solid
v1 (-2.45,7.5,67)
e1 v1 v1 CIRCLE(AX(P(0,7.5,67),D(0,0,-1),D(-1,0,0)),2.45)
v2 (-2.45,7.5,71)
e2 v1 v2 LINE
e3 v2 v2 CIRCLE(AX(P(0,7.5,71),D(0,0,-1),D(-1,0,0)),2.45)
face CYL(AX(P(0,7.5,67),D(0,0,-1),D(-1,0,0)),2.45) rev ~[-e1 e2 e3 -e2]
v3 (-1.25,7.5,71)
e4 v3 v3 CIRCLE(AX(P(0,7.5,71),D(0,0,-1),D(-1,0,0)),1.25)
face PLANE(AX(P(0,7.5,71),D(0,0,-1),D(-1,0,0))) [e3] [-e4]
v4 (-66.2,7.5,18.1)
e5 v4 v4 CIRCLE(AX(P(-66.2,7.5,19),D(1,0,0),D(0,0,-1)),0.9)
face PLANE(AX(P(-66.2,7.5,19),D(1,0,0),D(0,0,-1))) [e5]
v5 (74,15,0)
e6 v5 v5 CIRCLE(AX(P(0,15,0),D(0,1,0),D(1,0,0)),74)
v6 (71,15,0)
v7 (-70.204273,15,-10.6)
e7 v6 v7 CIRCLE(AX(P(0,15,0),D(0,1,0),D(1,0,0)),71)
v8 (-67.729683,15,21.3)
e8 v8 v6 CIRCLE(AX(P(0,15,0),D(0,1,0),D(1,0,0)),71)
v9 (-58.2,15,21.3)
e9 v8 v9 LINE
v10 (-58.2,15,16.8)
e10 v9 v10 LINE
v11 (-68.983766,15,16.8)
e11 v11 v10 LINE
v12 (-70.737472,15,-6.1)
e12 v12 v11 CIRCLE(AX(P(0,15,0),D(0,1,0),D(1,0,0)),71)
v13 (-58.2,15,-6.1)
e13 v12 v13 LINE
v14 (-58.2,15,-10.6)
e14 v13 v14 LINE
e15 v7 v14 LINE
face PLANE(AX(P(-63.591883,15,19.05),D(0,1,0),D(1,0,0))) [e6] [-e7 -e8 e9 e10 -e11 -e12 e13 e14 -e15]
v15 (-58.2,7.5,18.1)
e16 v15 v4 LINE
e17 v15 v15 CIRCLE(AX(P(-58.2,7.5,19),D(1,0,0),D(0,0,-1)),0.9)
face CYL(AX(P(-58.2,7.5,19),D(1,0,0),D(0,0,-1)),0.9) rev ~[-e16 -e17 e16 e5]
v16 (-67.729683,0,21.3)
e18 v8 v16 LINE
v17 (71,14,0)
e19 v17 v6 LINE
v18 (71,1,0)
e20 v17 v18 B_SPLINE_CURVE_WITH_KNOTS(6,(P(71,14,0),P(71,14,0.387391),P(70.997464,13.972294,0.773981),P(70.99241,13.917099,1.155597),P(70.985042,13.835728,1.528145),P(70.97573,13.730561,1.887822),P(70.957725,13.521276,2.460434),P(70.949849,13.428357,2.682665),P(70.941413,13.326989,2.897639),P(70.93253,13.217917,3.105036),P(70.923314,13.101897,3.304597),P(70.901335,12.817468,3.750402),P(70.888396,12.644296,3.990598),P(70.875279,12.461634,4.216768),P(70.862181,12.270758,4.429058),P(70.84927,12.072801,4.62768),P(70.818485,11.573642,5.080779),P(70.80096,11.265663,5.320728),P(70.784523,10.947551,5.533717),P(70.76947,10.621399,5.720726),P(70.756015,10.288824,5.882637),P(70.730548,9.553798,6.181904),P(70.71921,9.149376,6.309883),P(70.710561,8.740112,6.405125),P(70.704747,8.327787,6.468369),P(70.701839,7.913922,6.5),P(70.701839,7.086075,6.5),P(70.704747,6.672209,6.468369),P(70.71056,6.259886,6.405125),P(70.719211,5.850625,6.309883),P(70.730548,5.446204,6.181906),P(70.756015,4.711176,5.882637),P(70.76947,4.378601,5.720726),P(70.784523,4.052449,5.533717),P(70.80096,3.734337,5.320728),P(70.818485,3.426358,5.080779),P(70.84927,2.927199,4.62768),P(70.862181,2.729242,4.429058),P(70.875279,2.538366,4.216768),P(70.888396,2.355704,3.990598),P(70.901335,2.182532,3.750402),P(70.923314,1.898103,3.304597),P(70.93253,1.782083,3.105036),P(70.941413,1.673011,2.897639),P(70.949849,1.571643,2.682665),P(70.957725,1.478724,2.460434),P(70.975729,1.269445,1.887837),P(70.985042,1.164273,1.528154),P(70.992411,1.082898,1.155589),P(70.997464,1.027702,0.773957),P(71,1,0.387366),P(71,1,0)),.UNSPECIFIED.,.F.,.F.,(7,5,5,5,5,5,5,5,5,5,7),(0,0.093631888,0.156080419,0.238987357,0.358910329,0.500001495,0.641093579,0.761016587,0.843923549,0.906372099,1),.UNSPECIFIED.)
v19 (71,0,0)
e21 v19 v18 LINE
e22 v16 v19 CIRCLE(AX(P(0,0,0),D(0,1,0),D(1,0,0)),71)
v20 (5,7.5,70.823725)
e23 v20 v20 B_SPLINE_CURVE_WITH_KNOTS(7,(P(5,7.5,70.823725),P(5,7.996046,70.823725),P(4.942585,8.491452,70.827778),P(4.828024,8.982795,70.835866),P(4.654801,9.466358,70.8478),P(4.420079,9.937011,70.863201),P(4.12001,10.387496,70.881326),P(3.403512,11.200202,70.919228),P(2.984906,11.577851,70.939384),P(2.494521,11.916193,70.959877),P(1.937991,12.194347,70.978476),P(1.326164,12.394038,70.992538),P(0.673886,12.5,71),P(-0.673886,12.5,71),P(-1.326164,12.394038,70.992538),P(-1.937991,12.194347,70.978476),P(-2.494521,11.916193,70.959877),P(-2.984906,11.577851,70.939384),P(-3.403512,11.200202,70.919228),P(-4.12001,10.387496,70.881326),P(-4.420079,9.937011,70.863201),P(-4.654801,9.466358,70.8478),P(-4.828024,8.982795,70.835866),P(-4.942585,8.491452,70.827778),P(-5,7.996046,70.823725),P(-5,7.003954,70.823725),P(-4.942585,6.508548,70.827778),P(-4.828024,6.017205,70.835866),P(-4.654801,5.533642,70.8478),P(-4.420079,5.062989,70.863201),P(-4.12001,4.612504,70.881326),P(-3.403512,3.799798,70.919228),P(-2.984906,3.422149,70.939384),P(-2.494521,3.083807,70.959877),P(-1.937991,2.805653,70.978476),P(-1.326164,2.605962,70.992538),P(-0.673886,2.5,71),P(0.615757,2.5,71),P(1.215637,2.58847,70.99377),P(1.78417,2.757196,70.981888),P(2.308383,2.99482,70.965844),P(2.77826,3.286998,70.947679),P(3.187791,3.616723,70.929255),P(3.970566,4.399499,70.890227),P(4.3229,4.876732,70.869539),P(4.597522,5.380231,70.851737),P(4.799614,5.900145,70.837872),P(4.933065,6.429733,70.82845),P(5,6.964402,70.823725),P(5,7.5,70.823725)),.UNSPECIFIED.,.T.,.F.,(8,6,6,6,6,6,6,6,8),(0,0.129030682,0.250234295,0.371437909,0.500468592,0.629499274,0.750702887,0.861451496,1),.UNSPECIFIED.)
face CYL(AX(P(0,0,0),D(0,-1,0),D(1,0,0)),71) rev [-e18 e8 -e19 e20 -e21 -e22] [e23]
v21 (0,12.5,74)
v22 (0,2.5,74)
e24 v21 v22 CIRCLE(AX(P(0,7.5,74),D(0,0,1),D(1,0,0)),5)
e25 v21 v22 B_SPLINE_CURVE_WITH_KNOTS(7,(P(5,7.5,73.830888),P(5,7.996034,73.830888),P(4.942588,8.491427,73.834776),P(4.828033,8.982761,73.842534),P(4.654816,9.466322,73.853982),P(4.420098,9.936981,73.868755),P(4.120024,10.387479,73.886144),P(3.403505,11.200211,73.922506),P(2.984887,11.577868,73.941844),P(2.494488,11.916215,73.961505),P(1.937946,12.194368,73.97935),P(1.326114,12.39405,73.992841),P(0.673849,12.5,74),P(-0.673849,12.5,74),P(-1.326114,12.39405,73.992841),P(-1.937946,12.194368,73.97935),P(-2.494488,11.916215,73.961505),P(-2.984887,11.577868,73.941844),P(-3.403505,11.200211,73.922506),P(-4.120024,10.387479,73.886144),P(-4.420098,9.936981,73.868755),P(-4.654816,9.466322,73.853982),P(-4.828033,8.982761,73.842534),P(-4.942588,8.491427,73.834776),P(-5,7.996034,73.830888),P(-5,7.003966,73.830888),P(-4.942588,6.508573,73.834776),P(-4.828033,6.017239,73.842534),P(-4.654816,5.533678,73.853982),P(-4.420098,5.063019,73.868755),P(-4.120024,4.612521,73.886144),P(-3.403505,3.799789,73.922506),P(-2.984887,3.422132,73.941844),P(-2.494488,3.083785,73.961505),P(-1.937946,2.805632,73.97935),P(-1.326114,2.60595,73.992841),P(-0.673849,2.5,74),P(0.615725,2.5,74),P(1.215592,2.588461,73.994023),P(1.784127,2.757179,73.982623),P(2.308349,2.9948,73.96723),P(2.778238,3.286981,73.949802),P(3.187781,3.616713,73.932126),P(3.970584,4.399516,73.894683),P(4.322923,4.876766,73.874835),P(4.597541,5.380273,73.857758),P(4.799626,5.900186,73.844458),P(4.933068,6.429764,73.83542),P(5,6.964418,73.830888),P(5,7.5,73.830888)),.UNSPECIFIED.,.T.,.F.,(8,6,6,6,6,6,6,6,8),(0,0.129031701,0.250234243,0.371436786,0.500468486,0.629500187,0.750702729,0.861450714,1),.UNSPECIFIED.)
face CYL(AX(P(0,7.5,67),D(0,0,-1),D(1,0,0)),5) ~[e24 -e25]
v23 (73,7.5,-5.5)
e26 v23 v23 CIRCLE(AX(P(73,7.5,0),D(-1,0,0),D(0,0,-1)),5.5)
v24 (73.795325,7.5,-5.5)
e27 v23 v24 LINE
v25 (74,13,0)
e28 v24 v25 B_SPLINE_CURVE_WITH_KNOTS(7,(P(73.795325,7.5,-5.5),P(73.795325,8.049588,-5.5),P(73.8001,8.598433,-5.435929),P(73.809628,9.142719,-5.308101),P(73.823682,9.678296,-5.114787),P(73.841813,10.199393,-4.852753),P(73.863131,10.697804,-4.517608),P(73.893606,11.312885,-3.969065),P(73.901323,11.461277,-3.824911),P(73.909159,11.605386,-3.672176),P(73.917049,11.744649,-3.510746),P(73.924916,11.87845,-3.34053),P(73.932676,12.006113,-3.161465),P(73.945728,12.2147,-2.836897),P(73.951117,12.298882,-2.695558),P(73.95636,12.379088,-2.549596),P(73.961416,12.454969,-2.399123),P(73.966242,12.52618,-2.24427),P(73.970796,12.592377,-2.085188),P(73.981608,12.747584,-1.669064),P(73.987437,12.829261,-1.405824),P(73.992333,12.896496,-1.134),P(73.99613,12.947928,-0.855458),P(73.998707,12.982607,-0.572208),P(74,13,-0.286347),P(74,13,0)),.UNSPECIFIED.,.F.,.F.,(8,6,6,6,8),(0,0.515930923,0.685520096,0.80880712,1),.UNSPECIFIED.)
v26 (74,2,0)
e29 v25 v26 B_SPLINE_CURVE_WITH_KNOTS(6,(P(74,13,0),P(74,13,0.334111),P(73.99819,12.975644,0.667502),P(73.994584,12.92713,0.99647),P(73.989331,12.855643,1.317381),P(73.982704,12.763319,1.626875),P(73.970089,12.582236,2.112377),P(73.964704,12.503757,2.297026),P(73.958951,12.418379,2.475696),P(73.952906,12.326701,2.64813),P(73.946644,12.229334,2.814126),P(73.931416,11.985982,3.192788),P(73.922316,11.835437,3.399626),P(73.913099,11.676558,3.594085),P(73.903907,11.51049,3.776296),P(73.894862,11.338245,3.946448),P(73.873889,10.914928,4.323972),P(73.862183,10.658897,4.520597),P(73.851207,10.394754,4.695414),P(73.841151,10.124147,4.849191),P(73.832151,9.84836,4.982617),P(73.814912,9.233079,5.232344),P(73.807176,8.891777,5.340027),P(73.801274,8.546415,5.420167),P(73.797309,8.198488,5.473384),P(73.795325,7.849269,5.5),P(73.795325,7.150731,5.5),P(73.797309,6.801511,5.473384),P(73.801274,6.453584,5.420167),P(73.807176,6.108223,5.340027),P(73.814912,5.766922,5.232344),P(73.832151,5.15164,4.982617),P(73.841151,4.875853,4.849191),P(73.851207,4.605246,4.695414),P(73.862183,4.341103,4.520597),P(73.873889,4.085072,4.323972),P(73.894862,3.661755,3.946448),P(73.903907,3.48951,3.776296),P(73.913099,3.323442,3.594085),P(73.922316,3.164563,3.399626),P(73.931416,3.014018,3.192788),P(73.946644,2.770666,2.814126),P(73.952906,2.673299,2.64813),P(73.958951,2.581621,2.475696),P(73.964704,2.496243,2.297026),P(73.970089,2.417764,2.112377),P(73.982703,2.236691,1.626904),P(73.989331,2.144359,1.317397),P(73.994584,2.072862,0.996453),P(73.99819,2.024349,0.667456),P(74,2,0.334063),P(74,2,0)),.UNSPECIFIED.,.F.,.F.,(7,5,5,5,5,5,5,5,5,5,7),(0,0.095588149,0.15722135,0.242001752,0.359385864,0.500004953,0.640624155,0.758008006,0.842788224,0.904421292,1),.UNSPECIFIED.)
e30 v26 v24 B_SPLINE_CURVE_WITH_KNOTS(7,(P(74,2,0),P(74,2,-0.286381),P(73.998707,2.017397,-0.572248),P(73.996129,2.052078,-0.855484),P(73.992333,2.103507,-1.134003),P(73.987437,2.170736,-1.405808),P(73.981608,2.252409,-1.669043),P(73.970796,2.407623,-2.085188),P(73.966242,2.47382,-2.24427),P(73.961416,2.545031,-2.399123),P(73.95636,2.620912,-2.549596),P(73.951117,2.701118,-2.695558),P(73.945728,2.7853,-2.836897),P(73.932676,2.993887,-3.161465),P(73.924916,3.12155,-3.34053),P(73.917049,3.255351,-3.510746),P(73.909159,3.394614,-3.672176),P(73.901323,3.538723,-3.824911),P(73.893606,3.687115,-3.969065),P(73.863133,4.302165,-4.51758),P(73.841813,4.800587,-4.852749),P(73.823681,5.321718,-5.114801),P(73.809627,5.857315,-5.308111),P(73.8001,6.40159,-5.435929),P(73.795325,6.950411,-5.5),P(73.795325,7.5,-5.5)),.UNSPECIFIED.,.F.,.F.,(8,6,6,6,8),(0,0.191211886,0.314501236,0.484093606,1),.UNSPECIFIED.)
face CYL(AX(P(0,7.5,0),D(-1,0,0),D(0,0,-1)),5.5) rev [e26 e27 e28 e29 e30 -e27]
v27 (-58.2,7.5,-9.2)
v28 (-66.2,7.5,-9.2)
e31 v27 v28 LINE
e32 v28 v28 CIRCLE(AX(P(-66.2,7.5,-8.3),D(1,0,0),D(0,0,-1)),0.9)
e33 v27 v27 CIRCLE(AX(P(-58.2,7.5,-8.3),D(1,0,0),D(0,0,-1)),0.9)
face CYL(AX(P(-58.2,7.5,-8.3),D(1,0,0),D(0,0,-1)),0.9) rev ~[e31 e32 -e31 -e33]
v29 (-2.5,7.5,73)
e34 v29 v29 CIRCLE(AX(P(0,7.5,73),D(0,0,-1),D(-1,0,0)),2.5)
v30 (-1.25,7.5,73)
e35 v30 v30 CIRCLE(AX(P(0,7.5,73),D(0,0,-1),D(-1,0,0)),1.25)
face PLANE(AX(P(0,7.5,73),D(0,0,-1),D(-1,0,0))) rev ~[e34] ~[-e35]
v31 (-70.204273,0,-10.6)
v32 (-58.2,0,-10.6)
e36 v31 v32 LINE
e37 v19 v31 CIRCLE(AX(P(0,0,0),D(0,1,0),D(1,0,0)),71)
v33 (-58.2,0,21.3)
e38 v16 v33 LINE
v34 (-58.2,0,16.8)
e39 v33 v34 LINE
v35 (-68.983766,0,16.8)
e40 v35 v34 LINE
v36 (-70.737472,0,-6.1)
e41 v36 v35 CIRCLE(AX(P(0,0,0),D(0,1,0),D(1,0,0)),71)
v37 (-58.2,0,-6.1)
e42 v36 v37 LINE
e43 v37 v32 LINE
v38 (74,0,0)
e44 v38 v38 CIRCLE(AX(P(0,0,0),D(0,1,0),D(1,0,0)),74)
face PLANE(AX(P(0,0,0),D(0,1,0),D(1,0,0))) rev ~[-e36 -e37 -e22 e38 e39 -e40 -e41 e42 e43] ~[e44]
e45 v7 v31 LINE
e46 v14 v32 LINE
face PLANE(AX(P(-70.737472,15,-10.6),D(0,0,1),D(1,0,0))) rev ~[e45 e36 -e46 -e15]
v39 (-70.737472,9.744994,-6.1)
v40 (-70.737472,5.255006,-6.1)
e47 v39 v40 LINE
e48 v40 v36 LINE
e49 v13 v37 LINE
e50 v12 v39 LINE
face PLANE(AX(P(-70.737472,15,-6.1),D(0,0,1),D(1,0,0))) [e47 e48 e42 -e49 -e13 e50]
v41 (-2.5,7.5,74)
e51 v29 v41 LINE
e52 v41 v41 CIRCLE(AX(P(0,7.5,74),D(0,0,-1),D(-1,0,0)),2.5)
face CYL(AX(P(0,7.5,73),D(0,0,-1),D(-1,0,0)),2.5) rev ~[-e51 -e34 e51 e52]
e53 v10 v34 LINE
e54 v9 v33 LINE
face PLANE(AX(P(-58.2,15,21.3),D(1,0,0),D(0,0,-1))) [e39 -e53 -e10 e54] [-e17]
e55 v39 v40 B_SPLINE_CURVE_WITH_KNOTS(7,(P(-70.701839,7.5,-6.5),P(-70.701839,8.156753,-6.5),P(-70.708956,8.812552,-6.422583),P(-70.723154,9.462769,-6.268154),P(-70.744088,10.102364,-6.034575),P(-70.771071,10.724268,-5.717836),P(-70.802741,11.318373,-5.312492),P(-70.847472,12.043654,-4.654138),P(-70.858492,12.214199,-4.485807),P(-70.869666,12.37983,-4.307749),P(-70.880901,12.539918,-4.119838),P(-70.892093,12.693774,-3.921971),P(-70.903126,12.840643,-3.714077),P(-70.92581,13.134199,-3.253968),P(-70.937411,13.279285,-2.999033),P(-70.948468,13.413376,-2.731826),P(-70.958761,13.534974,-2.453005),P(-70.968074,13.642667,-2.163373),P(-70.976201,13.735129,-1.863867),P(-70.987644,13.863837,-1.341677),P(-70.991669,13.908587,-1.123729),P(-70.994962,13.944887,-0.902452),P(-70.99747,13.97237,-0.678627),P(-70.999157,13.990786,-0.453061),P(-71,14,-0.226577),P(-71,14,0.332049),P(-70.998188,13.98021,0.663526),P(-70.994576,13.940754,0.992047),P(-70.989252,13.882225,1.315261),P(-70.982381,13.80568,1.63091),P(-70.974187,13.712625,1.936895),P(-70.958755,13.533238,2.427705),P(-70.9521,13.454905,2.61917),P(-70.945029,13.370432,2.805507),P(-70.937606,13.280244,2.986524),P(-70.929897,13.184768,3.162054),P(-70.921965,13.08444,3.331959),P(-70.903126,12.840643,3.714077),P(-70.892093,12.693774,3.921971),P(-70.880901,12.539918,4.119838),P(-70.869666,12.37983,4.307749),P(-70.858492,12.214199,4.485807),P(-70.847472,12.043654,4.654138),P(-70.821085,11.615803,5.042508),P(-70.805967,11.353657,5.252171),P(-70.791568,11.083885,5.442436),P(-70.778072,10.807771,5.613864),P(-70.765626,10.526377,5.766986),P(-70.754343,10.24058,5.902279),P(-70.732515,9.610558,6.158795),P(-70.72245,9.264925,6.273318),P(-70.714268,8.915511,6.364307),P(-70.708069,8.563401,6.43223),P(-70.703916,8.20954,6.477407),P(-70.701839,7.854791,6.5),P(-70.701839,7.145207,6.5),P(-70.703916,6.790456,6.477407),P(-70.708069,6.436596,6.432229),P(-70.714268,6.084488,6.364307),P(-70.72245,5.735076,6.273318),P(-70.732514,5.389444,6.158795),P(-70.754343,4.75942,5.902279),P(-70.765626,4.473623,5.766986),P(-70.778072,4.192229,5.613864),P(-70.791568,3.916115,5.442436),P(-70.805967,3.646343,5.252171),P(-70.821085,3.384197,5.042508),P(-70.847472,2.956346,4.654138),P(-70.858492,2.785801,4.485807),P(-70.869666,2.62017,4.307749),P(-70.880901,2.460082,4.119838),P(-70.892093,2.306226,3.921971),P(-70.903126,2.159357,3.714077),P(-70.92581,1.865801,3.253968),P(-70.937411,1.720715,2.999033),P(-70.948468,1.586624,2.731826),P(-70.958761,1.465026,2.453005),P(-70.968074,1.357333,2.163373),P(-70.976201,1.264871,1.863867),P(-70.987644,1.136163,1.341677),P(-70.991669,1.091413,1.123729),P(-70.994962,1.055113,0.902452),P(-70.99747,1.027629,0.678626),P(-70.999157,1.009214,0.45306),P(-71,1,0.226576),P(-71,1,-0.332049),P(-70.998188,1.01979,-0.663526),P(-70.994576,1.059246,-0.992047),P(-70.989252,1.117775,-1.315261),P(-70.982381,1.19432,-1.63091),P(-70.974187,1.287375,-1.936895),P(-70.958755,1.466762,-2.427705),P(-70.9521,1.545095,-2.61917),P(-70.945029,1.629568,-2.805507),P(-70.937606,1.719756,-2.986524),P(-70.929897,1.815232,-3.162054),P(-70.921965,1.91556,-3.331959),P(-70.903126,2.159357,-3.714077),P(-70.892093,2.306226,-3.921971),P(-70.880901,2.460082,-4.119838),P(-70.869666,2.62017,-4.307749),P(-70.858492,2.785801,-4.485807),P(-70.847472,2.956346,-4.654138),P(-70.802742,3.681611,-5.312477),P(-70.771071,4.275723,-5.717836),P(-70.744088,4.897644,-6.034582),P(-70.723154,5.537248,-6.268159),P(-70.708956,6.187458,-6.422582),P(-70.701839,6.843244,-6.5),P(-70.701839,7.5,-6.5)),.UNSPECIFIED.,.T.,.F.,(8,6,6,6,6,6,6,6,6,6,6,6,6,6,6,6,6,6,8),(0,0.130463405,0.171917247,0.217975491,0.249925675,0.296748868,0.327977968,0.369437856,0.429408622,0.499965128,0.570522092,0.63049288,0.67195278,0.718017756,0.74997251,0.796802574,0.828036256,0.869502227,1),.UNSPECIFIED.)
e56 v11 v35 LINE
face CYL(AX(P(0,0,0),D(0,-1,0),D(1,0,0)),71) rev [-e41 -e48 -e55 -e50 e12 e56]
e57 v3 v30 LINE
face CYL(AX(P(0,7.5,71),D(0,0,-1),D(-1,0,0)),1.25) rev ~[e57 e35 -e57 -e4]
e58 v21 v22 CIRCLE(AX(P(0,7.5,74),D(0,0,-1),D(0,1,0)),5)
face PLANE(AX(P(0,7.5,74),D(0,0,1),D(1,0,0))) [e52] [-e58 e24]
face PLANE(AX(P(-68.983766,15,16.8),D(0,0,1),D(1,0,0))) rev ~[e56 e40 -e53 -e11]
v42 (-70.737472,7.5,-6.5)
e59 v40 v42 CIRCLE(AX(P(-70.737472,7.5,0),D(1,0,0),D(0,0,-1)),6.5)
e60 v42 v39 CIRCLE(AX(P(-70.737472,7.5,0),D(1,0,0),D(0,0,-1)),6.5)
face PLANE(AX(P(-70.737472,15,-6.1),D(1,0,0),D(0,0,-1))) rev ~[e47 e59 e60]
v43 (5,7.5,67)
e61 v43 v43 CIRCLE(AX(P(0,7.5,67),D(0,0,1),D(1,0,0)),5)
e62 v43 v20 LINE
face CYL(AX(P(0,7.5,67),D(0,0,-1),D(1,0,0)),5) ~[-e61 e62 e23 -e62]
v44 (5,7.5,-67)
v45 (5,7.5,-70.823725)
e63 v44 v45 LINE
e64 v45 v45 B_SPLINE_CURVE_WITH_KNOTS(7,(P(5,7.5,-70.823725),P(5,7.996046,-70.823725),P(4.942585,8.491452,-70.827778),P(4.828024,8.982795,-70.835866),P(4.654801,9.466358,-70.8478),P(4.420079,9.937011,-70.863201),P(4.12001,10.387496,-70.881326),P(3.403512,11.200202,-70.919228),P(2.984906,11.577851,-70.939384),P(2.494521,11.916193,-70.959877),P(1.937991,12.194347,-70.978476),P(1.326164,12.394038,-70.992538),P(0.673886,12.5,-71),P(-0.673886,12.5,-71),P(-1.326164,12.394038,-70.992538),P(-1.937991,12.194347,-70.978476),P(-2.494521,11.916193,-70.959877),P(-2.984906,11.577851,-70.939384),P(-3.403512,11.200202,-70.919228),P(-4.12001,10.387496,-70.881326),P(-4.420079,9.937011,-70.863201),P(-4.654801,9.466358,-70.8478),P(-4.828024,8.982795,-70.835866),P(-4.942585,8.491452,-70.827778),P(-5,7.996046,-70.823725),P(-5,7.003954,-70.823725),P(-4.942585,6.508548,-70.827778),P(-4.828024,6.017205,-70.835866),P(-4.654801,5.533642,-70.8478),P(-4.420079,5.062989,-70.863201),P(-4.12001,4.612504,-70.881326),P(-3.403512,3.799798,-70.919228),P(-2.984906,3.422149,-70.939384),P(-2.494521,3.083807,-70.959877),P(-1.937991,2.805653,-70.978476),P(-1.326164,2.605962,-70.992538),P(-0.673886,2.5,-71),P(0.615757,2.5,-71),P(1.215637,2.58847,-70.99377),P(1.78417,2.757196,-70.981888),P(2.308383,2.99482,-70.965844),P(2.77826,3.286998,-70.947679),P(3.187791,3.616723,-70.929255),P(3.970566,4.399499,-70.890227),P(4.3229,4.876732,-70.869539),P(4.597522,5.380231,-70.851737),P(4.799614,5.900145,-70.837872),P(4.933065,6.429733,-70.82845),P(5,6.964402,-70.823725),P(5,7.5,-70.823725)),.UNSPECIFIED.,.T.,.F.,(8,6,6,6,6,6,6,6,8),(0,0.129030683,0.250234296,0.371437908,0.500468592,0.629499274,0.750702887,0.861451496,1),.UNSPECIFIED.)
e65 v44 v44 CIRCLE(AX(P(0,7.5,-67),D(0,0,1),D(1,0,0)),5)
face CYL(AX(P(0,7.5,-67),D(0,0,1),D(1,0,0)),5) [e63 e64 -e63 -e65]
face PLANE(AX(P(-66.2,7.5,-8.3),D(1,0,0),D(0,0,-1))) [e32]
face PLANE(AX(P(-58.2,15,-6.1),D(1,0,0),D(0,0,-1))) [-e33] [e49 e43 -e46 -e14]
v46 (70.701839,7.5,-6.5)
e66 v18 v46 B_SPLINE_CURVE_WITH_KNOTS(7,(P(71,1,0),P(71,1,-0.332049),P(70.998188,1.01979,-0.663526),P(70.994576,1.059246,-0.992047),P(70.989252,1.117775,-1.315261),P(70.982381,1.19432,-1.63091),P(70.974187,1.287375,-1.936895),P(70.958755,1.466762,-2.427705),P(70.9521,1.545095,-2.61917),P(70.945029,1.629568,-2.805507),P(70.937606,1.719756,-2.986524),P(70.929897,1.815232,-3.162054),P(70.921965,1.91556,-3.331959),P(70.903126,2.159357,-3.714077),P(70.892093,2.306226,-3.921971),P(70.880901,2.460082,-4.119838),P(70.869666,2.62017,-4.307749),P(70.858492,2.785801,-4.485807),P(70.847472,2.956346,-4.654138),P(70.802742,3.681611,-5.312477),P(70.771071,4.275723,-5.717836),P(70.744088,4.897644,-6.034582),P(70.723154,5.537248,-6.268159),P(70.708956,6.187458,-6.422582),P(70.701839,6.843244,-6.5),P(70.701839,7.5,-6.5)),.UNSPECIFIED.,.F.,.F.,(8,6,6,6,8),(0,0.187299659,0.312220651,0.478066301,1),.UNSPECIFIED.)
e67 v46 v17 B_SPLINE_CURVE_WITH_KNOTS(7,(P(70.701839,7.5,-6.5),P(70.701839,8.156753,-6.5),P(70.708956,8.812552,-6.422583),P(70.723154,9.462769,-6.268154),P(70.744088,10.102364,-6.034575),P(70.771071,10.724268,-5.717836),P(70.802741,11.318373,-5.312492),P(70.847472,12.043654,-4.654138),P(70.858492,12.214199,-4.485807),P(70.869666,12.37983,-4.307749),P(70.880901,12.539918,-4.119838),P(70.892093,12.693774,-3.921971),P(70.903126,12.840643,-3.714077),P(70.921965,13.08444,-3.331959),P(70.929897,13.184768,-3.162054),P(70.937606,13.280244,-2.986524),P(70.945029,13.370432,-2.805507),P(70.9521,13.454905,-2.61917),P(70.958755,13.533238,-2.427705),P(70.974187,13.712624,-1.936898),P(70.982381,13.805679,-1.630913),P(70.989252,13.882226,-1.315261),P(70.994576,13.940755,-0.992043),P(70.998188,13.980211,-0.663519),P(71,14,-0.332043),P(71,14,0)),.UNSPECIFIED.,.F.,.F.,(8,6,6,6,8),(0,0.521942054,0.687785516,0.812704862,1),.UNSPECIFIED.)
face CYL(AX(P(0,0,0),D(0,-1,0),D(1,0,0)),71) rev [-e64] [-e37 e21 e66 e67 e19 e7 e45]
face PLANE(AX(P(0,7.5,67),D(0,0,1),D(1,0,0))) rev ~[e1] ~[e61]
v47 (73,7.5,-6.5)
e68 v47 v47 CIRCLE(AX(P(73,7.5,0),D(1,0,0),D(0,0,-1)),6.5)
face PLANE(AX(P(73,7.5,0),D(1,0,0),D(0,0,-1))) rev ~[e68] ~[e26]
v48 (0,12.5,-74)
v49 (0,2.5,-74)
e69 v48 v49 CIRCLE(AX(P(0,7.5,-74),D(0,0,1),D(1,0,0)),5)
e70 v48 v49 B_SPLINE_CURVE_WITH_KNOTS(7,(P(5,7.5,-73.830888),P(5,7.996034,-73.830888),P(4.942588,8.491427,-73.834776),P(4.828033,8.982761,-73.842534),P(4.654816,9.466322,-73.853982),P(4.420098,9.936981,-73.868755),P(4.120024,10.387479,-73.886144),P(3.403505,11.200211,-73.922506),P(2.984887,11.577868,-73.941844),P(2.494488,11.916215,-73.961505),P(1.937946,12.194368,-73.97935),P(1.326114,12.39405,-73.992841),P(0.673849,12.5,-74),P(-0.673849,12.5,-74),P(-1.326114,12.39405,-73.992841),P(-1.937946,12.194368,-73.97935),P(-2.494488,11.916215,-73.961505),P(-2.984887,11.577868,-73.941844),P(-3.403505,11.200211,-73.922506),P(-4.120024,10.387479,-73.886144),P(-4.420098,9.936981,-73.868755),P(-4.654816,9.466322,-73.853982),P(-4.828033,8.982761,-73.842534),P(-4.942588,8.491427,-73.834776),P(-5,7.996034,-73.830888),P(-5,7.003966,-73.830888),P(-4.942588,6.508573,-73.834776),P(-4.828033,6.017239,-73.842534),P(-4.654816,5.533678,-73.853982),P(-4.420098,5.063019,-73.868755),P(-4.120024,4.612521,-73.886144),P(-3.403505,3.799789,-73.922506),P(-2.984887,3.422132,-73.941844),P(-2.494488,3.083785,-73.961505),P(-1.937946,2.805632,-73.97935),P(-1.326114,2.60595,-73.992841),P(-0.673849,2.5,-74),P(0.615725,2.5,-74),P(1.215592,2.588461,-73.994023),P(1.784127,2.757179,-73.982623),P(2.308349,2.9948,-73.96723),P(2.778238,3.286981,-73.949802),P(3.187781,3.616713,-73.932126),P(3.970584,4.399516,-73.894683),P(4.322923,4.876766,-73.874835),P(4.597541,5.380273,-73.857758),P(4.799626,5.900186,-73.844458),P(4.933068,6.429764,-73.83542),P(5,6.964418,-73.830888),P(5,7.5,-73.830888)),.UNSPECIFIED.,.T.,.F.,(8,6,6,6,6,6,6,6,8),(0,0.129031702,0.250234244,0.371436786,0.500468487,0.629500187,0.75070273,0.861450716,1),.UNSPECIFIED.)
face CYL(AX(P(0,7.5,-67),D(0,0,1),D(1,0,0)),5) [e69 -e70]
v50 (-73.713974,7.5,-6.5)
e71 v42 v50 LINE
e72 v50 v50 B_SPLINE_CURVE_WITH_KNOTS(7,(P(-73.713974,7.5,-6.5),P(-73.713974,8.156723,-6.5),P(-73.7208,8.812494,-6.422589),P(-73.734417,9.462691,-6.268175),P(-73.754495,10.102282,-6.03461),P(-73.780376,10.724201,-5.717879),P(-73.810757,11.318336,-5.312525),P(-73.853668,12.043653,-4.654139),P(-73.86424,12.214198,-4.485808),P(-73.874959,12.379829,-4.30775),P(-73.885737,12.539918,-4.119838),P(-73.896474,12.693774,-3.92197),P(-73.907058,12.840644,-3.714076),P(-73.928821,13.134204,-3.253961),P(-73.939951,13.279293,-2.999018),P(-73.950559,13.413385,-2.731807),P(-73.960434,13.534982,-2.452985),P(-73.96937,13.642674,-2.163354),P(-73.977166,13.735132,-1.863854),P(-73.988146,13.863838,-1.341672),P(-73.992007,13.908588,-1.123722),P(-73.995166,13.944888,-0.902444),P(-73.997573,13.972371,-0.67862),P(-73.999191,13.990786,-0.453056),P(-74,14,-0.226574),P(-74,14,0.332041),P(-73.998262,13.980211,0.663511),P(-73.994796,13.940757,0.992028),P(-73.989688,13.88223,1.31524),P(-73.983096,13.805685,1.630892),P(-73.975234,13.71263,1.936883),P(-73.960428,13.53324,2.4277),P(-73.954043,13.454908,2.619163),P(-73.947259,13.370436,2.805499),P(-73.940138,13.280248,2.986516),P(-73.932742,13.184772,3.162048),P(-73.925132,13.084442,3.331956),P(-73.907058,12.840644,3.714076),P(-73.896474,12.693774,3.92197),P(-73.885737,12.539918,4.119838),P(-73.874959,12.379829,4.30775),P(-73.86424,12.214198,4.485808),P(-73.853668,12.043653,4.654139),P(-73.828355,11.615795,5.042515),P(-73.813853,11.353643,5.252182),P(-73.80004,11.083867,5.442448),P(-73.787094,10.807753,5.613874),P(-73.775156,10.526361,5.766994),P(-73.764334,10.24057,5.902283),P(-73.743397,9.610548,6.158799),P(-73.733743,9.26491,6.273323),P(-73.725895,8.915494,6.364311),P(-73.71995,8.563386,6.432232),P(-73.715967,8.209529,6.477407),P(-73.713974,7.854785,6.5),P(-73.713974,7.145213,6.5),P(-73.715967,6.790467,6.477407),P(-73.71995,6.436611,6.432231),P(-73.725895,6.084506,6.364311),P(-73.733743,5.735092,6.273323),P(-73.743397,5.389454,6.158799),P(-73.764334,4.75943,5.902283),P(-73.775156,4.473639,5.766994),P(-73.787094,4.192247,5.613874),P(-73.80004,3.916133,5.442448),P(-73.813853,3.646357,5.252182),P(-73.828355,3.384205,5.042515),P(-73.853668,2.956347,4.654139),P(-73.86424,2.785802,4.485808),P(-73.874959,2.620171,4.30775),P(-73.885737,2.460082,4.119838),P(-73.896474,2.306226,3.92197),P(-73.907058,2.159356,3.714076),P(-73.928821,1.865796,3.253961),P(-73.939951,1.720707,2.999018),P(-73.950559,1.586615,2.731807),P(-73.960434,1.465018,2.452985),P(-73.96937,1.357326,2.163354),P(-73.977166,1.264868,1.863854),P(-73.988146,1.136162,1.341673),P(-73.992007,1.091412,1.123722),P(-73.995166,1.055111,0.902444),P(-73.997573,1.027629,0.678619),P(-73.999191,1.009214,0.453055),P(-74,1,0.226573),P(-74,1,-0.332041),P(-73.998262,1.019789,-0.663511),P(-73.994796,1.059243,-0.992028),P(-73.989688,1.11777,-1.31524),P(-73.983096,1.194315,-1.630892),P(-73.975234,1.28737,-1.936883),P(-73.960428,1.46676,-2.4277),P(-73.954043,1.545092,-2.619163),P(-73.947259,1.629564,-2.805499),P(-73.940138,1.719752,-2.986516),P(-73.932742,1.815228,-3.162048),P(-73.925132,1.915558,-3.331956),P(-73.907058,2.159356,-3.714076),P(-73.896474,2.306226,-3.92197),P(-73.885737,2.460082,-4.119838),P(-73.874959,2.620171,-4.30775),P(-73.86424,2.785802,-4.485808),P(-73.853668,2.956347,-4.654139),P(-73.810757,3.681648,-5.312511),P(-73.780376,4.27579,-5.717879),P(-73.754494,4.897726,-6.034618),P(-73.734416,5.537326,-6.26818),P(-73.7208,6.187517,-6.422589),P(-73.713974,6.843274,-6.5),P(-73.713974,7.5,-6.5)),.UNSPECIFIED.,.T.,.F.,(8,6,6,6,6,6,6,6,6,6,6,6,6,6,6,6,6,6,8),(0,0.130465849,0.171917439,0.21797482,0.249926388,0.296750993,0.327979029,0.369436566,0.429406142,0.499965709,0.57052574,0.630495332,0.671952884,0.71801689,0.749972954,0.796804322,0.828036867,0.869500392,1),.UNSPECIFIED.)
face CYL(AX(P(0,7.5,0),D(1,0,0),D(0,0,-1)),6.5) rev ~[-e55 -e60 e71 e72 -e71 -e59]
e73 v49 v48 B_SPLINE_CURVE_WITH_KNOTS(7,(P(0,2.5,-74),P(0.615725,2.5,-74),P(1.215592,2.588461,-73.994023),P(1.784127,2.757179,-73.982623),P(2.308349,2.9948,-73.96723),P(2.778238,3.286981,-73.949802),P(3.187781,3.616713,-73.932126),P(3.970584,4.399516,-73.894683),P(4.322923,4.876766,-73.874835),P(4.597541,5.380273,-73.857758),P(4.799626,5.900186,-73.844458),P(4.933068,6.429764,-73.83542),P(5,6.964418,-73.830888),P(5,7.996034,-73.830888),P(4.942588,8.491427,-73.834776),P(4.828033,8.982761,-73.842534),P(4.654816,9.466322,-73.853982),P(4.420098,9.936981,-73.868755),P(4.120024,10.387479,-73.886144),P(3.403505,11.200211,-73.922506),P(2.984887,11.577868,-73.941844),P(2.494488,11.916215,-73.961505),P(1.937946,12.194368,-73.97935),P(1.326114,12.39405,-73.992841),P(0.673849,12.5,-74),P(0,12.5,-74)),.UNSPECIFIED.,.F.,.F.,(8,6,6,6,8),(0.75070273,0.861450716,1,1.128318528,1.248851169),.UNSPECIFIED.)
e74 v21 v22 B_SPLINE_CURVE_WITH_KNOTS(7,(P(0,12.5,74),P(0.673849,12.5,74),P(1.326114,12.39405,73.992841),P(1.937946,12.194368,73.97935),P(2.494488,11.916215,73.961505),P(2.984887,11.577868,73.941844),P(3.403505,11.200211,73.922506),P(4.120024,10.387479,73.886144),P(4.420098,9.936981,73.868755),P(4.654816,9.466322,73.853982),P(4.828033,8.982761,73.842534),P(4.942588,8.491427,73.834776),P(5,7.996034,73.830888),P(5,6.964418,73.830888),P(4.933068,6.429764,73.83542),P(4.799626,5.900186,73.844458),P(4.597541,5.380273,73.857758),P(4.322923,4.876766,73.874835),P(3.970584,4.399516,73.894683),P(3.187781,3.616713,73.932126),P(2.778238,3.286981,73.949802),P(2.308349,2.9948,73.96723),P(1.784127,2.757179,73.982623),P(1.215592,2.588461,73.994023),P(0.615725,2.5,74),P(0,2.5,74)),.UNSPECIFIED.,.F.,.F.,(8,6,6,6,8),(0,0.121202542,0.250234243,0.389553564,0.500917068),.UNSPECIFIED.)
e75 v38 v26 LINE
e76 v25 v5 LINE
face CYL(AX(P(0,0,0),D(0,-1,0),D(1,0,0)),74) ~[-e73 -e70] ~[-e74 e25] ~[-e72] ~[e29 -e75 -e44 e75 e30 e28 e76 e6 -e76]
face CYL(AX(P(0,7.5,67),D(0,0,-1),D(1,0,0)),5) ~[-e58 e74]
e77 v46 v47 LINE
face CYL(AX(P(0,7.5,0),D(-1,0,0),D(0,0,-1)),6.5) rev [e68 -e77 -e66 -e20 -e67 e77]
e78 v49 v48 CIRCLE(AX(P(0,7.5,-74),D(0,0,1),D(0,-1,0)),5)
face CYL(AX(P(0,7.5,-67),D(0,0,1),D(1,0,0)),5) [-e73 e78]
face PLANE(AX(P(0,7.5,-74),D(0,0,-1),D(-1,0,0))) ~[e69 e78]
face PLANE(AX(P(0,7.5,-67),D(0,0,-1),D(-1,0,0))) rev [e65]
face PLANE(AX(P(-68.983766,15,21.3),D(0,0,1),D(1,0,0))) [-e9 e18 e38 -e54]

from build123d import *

# Parameters (mm, degrees)
SKETCH1_R               = 74
SKETCH1_R_2             = 71
BOSS_EXTRUDE1_DEPTH     = 15
SKETCH2_R               = 6.5
CUT_EXTRUDE1_DEPTH      = 73
CUT_EXTRUDE1_DEPTH_BACK = 75
SKETCH9_R               = 5.5
CUT_EXTRUDE6_DEPTH      = 75.0000001
BOSS_EXTRUDE2_START     = -6
SKETCH3_R               = 5
BOSS_EXTRUDE2_DEPTH     = 7
SKETCH4_W               = 10.783766206
SKETCH4_H               = 4.5
SKETCH4_W_2             = 12.537472389
BOSS_EXTRUDE3_DEPTH     = 15
SKETCH5_R               = 0.9
CUT_EXTRUDE2_DEPTH      = 8
SKETCH6_R               = 2.45
CUT_EXTRUDE3_DEPTH      = 4
SKETCH7_R               = 1.25
CUT_EXTRUDE4_DEPTH      = 4
SKETCH8_R               = 2.5
CUT_EXTRUDE5_DEPTH      = 4


with BuildPart() as part:
    # Sketch1 → Boss-Extrude1 (new body)
    with BuildSketch(Plane(origin=(0, 0, 0), x_dir=(1, 0, 0), z_dir=(0, 1, 0))):
        Circle(SKETCH1_R)
        Circle(SKETCH1_R_2, mode=Mode.SUBTRACT)
    extrude(amount=BOSS_EXTRUDE1_DEPTH)

    # Sketch2 → Cut-Extrude1 (cut, two sides)
    with BuildSketch(Plane(origin=(0, 0, 0), x_dir=(0, 0, -1), z_dir=(1, 0, 0))) as cut_extrude1_sk:
        with Locations((0, 7.5)):
            Circle(SKETCH2_R)
    extrude(amount=CUT_EXTRUDE1_DEPTH, mode=Mode.SUBTRACT)
    extrude(cut_extrude1_sk.sketch, amount=-CUT_EXTRUDE1_DEPTH_BACK, mode=Mode.SUBTRACT)

    # Sketch9 → Cut-Extrude6 (cut, through all)
    with BuildSketch(Plane(origin=(0, 0, 0), x_dir=(0, 0, -1), z_dir=(1, 0, 0))):
        with Locations((0, 7.5)):
            Circle(SKETCH9_R)
    extrude(amount=CUT_EXTRUDE6_DEPTH, mode=Mode.SUBTRACT)

    # Sketch3 → Boss-Extrude2 (add)
    with BuildSketch(Plane.XY.offset(73).offset(BOSS_EXTRUDE2_START)):
        with Locations((0, 7.5)):
            Circle(SKETCH3_R)
    boss_extrude2 = extrude(amount=BOSS_EXTRUDE2_DEPTH)

    # Mirror1: Boss-Extrude2 across plane
    add(boss_extrude2.mirror(Plane.XY))

    # Sketch4 → Boss-Extrude3 (add)
    with BuildSketch(Plane(origin=(0, 15, 0), x_dir=(1, 0, 0), z_dir=(0, 1, 0))):
        with Locations((-63.591883103, -19.05)):
            Rectangle(SKETCH4_W, SKETCH4_H)
        with Locations((-64.468736194, 8.35)):
            Rectangle(SKETCH4_W_2, SKETCH4_H)
    extrude(amount=-BOSS_EXTRUDE3_DEPTH)

    # Sketch5 → Cut-Extrude2 (cut)
    with BuildSketch(Plane(origin=(-58.2, 0, 0), x_dir=(0, 0, -1), z_dir=(1, 0, 0))):
        with Locations((8.3, 7.5)):
            Circle(SKETCH5_R)
        with Locations((-19, 7.5)):
            Circle(SKETCH5_R)
    extrude(amount=-CUT_EXTRUDE2_DEPTH, mode=Mode.SUBTRACT)

    # Sketch6 → Cut-Extrude3 (cut)
    with BuildSketch(Plane(origin=(0, 0, 67), x_dir=(-1, 0, 0), z_dir=(0, 0, -1))):
        with Locations((0, 7.5)):
            Circle(SKETCH6_R)
    extrude(amount=-CUT_EXTRUDE3_DEPTH, mode=Mode.SUBTRACT)

    # Sketch7 → Cut-Extrude4 (cut)
    with BuildSketch(Plane(origin=(0, 0, 71), x_dir=(-1, 0, 0), z_dir=(0, 0, -1))):
        with Locations((0, 7.5)):
            Circle(SKETCH7_R)
    extrude(amount=-CUT_EXTRUDE4_DEPTH, mode=Mode.SUBTRACT)

    # Sketch8 → Cut-Extrude5 (cut)
    with BuildSketch(Plane(origin=(0, 0, 73), x_dir=(-1, 0, 0), z_dir=(0, 0, -1))):
        with Locations((0, 7.5)):
            Circle(SKETCH8_R)
    extrude(amount=-CUT_EXTRUDE5_DEPTH, mode=Mode.SUBTRACT)


solid = part.part
